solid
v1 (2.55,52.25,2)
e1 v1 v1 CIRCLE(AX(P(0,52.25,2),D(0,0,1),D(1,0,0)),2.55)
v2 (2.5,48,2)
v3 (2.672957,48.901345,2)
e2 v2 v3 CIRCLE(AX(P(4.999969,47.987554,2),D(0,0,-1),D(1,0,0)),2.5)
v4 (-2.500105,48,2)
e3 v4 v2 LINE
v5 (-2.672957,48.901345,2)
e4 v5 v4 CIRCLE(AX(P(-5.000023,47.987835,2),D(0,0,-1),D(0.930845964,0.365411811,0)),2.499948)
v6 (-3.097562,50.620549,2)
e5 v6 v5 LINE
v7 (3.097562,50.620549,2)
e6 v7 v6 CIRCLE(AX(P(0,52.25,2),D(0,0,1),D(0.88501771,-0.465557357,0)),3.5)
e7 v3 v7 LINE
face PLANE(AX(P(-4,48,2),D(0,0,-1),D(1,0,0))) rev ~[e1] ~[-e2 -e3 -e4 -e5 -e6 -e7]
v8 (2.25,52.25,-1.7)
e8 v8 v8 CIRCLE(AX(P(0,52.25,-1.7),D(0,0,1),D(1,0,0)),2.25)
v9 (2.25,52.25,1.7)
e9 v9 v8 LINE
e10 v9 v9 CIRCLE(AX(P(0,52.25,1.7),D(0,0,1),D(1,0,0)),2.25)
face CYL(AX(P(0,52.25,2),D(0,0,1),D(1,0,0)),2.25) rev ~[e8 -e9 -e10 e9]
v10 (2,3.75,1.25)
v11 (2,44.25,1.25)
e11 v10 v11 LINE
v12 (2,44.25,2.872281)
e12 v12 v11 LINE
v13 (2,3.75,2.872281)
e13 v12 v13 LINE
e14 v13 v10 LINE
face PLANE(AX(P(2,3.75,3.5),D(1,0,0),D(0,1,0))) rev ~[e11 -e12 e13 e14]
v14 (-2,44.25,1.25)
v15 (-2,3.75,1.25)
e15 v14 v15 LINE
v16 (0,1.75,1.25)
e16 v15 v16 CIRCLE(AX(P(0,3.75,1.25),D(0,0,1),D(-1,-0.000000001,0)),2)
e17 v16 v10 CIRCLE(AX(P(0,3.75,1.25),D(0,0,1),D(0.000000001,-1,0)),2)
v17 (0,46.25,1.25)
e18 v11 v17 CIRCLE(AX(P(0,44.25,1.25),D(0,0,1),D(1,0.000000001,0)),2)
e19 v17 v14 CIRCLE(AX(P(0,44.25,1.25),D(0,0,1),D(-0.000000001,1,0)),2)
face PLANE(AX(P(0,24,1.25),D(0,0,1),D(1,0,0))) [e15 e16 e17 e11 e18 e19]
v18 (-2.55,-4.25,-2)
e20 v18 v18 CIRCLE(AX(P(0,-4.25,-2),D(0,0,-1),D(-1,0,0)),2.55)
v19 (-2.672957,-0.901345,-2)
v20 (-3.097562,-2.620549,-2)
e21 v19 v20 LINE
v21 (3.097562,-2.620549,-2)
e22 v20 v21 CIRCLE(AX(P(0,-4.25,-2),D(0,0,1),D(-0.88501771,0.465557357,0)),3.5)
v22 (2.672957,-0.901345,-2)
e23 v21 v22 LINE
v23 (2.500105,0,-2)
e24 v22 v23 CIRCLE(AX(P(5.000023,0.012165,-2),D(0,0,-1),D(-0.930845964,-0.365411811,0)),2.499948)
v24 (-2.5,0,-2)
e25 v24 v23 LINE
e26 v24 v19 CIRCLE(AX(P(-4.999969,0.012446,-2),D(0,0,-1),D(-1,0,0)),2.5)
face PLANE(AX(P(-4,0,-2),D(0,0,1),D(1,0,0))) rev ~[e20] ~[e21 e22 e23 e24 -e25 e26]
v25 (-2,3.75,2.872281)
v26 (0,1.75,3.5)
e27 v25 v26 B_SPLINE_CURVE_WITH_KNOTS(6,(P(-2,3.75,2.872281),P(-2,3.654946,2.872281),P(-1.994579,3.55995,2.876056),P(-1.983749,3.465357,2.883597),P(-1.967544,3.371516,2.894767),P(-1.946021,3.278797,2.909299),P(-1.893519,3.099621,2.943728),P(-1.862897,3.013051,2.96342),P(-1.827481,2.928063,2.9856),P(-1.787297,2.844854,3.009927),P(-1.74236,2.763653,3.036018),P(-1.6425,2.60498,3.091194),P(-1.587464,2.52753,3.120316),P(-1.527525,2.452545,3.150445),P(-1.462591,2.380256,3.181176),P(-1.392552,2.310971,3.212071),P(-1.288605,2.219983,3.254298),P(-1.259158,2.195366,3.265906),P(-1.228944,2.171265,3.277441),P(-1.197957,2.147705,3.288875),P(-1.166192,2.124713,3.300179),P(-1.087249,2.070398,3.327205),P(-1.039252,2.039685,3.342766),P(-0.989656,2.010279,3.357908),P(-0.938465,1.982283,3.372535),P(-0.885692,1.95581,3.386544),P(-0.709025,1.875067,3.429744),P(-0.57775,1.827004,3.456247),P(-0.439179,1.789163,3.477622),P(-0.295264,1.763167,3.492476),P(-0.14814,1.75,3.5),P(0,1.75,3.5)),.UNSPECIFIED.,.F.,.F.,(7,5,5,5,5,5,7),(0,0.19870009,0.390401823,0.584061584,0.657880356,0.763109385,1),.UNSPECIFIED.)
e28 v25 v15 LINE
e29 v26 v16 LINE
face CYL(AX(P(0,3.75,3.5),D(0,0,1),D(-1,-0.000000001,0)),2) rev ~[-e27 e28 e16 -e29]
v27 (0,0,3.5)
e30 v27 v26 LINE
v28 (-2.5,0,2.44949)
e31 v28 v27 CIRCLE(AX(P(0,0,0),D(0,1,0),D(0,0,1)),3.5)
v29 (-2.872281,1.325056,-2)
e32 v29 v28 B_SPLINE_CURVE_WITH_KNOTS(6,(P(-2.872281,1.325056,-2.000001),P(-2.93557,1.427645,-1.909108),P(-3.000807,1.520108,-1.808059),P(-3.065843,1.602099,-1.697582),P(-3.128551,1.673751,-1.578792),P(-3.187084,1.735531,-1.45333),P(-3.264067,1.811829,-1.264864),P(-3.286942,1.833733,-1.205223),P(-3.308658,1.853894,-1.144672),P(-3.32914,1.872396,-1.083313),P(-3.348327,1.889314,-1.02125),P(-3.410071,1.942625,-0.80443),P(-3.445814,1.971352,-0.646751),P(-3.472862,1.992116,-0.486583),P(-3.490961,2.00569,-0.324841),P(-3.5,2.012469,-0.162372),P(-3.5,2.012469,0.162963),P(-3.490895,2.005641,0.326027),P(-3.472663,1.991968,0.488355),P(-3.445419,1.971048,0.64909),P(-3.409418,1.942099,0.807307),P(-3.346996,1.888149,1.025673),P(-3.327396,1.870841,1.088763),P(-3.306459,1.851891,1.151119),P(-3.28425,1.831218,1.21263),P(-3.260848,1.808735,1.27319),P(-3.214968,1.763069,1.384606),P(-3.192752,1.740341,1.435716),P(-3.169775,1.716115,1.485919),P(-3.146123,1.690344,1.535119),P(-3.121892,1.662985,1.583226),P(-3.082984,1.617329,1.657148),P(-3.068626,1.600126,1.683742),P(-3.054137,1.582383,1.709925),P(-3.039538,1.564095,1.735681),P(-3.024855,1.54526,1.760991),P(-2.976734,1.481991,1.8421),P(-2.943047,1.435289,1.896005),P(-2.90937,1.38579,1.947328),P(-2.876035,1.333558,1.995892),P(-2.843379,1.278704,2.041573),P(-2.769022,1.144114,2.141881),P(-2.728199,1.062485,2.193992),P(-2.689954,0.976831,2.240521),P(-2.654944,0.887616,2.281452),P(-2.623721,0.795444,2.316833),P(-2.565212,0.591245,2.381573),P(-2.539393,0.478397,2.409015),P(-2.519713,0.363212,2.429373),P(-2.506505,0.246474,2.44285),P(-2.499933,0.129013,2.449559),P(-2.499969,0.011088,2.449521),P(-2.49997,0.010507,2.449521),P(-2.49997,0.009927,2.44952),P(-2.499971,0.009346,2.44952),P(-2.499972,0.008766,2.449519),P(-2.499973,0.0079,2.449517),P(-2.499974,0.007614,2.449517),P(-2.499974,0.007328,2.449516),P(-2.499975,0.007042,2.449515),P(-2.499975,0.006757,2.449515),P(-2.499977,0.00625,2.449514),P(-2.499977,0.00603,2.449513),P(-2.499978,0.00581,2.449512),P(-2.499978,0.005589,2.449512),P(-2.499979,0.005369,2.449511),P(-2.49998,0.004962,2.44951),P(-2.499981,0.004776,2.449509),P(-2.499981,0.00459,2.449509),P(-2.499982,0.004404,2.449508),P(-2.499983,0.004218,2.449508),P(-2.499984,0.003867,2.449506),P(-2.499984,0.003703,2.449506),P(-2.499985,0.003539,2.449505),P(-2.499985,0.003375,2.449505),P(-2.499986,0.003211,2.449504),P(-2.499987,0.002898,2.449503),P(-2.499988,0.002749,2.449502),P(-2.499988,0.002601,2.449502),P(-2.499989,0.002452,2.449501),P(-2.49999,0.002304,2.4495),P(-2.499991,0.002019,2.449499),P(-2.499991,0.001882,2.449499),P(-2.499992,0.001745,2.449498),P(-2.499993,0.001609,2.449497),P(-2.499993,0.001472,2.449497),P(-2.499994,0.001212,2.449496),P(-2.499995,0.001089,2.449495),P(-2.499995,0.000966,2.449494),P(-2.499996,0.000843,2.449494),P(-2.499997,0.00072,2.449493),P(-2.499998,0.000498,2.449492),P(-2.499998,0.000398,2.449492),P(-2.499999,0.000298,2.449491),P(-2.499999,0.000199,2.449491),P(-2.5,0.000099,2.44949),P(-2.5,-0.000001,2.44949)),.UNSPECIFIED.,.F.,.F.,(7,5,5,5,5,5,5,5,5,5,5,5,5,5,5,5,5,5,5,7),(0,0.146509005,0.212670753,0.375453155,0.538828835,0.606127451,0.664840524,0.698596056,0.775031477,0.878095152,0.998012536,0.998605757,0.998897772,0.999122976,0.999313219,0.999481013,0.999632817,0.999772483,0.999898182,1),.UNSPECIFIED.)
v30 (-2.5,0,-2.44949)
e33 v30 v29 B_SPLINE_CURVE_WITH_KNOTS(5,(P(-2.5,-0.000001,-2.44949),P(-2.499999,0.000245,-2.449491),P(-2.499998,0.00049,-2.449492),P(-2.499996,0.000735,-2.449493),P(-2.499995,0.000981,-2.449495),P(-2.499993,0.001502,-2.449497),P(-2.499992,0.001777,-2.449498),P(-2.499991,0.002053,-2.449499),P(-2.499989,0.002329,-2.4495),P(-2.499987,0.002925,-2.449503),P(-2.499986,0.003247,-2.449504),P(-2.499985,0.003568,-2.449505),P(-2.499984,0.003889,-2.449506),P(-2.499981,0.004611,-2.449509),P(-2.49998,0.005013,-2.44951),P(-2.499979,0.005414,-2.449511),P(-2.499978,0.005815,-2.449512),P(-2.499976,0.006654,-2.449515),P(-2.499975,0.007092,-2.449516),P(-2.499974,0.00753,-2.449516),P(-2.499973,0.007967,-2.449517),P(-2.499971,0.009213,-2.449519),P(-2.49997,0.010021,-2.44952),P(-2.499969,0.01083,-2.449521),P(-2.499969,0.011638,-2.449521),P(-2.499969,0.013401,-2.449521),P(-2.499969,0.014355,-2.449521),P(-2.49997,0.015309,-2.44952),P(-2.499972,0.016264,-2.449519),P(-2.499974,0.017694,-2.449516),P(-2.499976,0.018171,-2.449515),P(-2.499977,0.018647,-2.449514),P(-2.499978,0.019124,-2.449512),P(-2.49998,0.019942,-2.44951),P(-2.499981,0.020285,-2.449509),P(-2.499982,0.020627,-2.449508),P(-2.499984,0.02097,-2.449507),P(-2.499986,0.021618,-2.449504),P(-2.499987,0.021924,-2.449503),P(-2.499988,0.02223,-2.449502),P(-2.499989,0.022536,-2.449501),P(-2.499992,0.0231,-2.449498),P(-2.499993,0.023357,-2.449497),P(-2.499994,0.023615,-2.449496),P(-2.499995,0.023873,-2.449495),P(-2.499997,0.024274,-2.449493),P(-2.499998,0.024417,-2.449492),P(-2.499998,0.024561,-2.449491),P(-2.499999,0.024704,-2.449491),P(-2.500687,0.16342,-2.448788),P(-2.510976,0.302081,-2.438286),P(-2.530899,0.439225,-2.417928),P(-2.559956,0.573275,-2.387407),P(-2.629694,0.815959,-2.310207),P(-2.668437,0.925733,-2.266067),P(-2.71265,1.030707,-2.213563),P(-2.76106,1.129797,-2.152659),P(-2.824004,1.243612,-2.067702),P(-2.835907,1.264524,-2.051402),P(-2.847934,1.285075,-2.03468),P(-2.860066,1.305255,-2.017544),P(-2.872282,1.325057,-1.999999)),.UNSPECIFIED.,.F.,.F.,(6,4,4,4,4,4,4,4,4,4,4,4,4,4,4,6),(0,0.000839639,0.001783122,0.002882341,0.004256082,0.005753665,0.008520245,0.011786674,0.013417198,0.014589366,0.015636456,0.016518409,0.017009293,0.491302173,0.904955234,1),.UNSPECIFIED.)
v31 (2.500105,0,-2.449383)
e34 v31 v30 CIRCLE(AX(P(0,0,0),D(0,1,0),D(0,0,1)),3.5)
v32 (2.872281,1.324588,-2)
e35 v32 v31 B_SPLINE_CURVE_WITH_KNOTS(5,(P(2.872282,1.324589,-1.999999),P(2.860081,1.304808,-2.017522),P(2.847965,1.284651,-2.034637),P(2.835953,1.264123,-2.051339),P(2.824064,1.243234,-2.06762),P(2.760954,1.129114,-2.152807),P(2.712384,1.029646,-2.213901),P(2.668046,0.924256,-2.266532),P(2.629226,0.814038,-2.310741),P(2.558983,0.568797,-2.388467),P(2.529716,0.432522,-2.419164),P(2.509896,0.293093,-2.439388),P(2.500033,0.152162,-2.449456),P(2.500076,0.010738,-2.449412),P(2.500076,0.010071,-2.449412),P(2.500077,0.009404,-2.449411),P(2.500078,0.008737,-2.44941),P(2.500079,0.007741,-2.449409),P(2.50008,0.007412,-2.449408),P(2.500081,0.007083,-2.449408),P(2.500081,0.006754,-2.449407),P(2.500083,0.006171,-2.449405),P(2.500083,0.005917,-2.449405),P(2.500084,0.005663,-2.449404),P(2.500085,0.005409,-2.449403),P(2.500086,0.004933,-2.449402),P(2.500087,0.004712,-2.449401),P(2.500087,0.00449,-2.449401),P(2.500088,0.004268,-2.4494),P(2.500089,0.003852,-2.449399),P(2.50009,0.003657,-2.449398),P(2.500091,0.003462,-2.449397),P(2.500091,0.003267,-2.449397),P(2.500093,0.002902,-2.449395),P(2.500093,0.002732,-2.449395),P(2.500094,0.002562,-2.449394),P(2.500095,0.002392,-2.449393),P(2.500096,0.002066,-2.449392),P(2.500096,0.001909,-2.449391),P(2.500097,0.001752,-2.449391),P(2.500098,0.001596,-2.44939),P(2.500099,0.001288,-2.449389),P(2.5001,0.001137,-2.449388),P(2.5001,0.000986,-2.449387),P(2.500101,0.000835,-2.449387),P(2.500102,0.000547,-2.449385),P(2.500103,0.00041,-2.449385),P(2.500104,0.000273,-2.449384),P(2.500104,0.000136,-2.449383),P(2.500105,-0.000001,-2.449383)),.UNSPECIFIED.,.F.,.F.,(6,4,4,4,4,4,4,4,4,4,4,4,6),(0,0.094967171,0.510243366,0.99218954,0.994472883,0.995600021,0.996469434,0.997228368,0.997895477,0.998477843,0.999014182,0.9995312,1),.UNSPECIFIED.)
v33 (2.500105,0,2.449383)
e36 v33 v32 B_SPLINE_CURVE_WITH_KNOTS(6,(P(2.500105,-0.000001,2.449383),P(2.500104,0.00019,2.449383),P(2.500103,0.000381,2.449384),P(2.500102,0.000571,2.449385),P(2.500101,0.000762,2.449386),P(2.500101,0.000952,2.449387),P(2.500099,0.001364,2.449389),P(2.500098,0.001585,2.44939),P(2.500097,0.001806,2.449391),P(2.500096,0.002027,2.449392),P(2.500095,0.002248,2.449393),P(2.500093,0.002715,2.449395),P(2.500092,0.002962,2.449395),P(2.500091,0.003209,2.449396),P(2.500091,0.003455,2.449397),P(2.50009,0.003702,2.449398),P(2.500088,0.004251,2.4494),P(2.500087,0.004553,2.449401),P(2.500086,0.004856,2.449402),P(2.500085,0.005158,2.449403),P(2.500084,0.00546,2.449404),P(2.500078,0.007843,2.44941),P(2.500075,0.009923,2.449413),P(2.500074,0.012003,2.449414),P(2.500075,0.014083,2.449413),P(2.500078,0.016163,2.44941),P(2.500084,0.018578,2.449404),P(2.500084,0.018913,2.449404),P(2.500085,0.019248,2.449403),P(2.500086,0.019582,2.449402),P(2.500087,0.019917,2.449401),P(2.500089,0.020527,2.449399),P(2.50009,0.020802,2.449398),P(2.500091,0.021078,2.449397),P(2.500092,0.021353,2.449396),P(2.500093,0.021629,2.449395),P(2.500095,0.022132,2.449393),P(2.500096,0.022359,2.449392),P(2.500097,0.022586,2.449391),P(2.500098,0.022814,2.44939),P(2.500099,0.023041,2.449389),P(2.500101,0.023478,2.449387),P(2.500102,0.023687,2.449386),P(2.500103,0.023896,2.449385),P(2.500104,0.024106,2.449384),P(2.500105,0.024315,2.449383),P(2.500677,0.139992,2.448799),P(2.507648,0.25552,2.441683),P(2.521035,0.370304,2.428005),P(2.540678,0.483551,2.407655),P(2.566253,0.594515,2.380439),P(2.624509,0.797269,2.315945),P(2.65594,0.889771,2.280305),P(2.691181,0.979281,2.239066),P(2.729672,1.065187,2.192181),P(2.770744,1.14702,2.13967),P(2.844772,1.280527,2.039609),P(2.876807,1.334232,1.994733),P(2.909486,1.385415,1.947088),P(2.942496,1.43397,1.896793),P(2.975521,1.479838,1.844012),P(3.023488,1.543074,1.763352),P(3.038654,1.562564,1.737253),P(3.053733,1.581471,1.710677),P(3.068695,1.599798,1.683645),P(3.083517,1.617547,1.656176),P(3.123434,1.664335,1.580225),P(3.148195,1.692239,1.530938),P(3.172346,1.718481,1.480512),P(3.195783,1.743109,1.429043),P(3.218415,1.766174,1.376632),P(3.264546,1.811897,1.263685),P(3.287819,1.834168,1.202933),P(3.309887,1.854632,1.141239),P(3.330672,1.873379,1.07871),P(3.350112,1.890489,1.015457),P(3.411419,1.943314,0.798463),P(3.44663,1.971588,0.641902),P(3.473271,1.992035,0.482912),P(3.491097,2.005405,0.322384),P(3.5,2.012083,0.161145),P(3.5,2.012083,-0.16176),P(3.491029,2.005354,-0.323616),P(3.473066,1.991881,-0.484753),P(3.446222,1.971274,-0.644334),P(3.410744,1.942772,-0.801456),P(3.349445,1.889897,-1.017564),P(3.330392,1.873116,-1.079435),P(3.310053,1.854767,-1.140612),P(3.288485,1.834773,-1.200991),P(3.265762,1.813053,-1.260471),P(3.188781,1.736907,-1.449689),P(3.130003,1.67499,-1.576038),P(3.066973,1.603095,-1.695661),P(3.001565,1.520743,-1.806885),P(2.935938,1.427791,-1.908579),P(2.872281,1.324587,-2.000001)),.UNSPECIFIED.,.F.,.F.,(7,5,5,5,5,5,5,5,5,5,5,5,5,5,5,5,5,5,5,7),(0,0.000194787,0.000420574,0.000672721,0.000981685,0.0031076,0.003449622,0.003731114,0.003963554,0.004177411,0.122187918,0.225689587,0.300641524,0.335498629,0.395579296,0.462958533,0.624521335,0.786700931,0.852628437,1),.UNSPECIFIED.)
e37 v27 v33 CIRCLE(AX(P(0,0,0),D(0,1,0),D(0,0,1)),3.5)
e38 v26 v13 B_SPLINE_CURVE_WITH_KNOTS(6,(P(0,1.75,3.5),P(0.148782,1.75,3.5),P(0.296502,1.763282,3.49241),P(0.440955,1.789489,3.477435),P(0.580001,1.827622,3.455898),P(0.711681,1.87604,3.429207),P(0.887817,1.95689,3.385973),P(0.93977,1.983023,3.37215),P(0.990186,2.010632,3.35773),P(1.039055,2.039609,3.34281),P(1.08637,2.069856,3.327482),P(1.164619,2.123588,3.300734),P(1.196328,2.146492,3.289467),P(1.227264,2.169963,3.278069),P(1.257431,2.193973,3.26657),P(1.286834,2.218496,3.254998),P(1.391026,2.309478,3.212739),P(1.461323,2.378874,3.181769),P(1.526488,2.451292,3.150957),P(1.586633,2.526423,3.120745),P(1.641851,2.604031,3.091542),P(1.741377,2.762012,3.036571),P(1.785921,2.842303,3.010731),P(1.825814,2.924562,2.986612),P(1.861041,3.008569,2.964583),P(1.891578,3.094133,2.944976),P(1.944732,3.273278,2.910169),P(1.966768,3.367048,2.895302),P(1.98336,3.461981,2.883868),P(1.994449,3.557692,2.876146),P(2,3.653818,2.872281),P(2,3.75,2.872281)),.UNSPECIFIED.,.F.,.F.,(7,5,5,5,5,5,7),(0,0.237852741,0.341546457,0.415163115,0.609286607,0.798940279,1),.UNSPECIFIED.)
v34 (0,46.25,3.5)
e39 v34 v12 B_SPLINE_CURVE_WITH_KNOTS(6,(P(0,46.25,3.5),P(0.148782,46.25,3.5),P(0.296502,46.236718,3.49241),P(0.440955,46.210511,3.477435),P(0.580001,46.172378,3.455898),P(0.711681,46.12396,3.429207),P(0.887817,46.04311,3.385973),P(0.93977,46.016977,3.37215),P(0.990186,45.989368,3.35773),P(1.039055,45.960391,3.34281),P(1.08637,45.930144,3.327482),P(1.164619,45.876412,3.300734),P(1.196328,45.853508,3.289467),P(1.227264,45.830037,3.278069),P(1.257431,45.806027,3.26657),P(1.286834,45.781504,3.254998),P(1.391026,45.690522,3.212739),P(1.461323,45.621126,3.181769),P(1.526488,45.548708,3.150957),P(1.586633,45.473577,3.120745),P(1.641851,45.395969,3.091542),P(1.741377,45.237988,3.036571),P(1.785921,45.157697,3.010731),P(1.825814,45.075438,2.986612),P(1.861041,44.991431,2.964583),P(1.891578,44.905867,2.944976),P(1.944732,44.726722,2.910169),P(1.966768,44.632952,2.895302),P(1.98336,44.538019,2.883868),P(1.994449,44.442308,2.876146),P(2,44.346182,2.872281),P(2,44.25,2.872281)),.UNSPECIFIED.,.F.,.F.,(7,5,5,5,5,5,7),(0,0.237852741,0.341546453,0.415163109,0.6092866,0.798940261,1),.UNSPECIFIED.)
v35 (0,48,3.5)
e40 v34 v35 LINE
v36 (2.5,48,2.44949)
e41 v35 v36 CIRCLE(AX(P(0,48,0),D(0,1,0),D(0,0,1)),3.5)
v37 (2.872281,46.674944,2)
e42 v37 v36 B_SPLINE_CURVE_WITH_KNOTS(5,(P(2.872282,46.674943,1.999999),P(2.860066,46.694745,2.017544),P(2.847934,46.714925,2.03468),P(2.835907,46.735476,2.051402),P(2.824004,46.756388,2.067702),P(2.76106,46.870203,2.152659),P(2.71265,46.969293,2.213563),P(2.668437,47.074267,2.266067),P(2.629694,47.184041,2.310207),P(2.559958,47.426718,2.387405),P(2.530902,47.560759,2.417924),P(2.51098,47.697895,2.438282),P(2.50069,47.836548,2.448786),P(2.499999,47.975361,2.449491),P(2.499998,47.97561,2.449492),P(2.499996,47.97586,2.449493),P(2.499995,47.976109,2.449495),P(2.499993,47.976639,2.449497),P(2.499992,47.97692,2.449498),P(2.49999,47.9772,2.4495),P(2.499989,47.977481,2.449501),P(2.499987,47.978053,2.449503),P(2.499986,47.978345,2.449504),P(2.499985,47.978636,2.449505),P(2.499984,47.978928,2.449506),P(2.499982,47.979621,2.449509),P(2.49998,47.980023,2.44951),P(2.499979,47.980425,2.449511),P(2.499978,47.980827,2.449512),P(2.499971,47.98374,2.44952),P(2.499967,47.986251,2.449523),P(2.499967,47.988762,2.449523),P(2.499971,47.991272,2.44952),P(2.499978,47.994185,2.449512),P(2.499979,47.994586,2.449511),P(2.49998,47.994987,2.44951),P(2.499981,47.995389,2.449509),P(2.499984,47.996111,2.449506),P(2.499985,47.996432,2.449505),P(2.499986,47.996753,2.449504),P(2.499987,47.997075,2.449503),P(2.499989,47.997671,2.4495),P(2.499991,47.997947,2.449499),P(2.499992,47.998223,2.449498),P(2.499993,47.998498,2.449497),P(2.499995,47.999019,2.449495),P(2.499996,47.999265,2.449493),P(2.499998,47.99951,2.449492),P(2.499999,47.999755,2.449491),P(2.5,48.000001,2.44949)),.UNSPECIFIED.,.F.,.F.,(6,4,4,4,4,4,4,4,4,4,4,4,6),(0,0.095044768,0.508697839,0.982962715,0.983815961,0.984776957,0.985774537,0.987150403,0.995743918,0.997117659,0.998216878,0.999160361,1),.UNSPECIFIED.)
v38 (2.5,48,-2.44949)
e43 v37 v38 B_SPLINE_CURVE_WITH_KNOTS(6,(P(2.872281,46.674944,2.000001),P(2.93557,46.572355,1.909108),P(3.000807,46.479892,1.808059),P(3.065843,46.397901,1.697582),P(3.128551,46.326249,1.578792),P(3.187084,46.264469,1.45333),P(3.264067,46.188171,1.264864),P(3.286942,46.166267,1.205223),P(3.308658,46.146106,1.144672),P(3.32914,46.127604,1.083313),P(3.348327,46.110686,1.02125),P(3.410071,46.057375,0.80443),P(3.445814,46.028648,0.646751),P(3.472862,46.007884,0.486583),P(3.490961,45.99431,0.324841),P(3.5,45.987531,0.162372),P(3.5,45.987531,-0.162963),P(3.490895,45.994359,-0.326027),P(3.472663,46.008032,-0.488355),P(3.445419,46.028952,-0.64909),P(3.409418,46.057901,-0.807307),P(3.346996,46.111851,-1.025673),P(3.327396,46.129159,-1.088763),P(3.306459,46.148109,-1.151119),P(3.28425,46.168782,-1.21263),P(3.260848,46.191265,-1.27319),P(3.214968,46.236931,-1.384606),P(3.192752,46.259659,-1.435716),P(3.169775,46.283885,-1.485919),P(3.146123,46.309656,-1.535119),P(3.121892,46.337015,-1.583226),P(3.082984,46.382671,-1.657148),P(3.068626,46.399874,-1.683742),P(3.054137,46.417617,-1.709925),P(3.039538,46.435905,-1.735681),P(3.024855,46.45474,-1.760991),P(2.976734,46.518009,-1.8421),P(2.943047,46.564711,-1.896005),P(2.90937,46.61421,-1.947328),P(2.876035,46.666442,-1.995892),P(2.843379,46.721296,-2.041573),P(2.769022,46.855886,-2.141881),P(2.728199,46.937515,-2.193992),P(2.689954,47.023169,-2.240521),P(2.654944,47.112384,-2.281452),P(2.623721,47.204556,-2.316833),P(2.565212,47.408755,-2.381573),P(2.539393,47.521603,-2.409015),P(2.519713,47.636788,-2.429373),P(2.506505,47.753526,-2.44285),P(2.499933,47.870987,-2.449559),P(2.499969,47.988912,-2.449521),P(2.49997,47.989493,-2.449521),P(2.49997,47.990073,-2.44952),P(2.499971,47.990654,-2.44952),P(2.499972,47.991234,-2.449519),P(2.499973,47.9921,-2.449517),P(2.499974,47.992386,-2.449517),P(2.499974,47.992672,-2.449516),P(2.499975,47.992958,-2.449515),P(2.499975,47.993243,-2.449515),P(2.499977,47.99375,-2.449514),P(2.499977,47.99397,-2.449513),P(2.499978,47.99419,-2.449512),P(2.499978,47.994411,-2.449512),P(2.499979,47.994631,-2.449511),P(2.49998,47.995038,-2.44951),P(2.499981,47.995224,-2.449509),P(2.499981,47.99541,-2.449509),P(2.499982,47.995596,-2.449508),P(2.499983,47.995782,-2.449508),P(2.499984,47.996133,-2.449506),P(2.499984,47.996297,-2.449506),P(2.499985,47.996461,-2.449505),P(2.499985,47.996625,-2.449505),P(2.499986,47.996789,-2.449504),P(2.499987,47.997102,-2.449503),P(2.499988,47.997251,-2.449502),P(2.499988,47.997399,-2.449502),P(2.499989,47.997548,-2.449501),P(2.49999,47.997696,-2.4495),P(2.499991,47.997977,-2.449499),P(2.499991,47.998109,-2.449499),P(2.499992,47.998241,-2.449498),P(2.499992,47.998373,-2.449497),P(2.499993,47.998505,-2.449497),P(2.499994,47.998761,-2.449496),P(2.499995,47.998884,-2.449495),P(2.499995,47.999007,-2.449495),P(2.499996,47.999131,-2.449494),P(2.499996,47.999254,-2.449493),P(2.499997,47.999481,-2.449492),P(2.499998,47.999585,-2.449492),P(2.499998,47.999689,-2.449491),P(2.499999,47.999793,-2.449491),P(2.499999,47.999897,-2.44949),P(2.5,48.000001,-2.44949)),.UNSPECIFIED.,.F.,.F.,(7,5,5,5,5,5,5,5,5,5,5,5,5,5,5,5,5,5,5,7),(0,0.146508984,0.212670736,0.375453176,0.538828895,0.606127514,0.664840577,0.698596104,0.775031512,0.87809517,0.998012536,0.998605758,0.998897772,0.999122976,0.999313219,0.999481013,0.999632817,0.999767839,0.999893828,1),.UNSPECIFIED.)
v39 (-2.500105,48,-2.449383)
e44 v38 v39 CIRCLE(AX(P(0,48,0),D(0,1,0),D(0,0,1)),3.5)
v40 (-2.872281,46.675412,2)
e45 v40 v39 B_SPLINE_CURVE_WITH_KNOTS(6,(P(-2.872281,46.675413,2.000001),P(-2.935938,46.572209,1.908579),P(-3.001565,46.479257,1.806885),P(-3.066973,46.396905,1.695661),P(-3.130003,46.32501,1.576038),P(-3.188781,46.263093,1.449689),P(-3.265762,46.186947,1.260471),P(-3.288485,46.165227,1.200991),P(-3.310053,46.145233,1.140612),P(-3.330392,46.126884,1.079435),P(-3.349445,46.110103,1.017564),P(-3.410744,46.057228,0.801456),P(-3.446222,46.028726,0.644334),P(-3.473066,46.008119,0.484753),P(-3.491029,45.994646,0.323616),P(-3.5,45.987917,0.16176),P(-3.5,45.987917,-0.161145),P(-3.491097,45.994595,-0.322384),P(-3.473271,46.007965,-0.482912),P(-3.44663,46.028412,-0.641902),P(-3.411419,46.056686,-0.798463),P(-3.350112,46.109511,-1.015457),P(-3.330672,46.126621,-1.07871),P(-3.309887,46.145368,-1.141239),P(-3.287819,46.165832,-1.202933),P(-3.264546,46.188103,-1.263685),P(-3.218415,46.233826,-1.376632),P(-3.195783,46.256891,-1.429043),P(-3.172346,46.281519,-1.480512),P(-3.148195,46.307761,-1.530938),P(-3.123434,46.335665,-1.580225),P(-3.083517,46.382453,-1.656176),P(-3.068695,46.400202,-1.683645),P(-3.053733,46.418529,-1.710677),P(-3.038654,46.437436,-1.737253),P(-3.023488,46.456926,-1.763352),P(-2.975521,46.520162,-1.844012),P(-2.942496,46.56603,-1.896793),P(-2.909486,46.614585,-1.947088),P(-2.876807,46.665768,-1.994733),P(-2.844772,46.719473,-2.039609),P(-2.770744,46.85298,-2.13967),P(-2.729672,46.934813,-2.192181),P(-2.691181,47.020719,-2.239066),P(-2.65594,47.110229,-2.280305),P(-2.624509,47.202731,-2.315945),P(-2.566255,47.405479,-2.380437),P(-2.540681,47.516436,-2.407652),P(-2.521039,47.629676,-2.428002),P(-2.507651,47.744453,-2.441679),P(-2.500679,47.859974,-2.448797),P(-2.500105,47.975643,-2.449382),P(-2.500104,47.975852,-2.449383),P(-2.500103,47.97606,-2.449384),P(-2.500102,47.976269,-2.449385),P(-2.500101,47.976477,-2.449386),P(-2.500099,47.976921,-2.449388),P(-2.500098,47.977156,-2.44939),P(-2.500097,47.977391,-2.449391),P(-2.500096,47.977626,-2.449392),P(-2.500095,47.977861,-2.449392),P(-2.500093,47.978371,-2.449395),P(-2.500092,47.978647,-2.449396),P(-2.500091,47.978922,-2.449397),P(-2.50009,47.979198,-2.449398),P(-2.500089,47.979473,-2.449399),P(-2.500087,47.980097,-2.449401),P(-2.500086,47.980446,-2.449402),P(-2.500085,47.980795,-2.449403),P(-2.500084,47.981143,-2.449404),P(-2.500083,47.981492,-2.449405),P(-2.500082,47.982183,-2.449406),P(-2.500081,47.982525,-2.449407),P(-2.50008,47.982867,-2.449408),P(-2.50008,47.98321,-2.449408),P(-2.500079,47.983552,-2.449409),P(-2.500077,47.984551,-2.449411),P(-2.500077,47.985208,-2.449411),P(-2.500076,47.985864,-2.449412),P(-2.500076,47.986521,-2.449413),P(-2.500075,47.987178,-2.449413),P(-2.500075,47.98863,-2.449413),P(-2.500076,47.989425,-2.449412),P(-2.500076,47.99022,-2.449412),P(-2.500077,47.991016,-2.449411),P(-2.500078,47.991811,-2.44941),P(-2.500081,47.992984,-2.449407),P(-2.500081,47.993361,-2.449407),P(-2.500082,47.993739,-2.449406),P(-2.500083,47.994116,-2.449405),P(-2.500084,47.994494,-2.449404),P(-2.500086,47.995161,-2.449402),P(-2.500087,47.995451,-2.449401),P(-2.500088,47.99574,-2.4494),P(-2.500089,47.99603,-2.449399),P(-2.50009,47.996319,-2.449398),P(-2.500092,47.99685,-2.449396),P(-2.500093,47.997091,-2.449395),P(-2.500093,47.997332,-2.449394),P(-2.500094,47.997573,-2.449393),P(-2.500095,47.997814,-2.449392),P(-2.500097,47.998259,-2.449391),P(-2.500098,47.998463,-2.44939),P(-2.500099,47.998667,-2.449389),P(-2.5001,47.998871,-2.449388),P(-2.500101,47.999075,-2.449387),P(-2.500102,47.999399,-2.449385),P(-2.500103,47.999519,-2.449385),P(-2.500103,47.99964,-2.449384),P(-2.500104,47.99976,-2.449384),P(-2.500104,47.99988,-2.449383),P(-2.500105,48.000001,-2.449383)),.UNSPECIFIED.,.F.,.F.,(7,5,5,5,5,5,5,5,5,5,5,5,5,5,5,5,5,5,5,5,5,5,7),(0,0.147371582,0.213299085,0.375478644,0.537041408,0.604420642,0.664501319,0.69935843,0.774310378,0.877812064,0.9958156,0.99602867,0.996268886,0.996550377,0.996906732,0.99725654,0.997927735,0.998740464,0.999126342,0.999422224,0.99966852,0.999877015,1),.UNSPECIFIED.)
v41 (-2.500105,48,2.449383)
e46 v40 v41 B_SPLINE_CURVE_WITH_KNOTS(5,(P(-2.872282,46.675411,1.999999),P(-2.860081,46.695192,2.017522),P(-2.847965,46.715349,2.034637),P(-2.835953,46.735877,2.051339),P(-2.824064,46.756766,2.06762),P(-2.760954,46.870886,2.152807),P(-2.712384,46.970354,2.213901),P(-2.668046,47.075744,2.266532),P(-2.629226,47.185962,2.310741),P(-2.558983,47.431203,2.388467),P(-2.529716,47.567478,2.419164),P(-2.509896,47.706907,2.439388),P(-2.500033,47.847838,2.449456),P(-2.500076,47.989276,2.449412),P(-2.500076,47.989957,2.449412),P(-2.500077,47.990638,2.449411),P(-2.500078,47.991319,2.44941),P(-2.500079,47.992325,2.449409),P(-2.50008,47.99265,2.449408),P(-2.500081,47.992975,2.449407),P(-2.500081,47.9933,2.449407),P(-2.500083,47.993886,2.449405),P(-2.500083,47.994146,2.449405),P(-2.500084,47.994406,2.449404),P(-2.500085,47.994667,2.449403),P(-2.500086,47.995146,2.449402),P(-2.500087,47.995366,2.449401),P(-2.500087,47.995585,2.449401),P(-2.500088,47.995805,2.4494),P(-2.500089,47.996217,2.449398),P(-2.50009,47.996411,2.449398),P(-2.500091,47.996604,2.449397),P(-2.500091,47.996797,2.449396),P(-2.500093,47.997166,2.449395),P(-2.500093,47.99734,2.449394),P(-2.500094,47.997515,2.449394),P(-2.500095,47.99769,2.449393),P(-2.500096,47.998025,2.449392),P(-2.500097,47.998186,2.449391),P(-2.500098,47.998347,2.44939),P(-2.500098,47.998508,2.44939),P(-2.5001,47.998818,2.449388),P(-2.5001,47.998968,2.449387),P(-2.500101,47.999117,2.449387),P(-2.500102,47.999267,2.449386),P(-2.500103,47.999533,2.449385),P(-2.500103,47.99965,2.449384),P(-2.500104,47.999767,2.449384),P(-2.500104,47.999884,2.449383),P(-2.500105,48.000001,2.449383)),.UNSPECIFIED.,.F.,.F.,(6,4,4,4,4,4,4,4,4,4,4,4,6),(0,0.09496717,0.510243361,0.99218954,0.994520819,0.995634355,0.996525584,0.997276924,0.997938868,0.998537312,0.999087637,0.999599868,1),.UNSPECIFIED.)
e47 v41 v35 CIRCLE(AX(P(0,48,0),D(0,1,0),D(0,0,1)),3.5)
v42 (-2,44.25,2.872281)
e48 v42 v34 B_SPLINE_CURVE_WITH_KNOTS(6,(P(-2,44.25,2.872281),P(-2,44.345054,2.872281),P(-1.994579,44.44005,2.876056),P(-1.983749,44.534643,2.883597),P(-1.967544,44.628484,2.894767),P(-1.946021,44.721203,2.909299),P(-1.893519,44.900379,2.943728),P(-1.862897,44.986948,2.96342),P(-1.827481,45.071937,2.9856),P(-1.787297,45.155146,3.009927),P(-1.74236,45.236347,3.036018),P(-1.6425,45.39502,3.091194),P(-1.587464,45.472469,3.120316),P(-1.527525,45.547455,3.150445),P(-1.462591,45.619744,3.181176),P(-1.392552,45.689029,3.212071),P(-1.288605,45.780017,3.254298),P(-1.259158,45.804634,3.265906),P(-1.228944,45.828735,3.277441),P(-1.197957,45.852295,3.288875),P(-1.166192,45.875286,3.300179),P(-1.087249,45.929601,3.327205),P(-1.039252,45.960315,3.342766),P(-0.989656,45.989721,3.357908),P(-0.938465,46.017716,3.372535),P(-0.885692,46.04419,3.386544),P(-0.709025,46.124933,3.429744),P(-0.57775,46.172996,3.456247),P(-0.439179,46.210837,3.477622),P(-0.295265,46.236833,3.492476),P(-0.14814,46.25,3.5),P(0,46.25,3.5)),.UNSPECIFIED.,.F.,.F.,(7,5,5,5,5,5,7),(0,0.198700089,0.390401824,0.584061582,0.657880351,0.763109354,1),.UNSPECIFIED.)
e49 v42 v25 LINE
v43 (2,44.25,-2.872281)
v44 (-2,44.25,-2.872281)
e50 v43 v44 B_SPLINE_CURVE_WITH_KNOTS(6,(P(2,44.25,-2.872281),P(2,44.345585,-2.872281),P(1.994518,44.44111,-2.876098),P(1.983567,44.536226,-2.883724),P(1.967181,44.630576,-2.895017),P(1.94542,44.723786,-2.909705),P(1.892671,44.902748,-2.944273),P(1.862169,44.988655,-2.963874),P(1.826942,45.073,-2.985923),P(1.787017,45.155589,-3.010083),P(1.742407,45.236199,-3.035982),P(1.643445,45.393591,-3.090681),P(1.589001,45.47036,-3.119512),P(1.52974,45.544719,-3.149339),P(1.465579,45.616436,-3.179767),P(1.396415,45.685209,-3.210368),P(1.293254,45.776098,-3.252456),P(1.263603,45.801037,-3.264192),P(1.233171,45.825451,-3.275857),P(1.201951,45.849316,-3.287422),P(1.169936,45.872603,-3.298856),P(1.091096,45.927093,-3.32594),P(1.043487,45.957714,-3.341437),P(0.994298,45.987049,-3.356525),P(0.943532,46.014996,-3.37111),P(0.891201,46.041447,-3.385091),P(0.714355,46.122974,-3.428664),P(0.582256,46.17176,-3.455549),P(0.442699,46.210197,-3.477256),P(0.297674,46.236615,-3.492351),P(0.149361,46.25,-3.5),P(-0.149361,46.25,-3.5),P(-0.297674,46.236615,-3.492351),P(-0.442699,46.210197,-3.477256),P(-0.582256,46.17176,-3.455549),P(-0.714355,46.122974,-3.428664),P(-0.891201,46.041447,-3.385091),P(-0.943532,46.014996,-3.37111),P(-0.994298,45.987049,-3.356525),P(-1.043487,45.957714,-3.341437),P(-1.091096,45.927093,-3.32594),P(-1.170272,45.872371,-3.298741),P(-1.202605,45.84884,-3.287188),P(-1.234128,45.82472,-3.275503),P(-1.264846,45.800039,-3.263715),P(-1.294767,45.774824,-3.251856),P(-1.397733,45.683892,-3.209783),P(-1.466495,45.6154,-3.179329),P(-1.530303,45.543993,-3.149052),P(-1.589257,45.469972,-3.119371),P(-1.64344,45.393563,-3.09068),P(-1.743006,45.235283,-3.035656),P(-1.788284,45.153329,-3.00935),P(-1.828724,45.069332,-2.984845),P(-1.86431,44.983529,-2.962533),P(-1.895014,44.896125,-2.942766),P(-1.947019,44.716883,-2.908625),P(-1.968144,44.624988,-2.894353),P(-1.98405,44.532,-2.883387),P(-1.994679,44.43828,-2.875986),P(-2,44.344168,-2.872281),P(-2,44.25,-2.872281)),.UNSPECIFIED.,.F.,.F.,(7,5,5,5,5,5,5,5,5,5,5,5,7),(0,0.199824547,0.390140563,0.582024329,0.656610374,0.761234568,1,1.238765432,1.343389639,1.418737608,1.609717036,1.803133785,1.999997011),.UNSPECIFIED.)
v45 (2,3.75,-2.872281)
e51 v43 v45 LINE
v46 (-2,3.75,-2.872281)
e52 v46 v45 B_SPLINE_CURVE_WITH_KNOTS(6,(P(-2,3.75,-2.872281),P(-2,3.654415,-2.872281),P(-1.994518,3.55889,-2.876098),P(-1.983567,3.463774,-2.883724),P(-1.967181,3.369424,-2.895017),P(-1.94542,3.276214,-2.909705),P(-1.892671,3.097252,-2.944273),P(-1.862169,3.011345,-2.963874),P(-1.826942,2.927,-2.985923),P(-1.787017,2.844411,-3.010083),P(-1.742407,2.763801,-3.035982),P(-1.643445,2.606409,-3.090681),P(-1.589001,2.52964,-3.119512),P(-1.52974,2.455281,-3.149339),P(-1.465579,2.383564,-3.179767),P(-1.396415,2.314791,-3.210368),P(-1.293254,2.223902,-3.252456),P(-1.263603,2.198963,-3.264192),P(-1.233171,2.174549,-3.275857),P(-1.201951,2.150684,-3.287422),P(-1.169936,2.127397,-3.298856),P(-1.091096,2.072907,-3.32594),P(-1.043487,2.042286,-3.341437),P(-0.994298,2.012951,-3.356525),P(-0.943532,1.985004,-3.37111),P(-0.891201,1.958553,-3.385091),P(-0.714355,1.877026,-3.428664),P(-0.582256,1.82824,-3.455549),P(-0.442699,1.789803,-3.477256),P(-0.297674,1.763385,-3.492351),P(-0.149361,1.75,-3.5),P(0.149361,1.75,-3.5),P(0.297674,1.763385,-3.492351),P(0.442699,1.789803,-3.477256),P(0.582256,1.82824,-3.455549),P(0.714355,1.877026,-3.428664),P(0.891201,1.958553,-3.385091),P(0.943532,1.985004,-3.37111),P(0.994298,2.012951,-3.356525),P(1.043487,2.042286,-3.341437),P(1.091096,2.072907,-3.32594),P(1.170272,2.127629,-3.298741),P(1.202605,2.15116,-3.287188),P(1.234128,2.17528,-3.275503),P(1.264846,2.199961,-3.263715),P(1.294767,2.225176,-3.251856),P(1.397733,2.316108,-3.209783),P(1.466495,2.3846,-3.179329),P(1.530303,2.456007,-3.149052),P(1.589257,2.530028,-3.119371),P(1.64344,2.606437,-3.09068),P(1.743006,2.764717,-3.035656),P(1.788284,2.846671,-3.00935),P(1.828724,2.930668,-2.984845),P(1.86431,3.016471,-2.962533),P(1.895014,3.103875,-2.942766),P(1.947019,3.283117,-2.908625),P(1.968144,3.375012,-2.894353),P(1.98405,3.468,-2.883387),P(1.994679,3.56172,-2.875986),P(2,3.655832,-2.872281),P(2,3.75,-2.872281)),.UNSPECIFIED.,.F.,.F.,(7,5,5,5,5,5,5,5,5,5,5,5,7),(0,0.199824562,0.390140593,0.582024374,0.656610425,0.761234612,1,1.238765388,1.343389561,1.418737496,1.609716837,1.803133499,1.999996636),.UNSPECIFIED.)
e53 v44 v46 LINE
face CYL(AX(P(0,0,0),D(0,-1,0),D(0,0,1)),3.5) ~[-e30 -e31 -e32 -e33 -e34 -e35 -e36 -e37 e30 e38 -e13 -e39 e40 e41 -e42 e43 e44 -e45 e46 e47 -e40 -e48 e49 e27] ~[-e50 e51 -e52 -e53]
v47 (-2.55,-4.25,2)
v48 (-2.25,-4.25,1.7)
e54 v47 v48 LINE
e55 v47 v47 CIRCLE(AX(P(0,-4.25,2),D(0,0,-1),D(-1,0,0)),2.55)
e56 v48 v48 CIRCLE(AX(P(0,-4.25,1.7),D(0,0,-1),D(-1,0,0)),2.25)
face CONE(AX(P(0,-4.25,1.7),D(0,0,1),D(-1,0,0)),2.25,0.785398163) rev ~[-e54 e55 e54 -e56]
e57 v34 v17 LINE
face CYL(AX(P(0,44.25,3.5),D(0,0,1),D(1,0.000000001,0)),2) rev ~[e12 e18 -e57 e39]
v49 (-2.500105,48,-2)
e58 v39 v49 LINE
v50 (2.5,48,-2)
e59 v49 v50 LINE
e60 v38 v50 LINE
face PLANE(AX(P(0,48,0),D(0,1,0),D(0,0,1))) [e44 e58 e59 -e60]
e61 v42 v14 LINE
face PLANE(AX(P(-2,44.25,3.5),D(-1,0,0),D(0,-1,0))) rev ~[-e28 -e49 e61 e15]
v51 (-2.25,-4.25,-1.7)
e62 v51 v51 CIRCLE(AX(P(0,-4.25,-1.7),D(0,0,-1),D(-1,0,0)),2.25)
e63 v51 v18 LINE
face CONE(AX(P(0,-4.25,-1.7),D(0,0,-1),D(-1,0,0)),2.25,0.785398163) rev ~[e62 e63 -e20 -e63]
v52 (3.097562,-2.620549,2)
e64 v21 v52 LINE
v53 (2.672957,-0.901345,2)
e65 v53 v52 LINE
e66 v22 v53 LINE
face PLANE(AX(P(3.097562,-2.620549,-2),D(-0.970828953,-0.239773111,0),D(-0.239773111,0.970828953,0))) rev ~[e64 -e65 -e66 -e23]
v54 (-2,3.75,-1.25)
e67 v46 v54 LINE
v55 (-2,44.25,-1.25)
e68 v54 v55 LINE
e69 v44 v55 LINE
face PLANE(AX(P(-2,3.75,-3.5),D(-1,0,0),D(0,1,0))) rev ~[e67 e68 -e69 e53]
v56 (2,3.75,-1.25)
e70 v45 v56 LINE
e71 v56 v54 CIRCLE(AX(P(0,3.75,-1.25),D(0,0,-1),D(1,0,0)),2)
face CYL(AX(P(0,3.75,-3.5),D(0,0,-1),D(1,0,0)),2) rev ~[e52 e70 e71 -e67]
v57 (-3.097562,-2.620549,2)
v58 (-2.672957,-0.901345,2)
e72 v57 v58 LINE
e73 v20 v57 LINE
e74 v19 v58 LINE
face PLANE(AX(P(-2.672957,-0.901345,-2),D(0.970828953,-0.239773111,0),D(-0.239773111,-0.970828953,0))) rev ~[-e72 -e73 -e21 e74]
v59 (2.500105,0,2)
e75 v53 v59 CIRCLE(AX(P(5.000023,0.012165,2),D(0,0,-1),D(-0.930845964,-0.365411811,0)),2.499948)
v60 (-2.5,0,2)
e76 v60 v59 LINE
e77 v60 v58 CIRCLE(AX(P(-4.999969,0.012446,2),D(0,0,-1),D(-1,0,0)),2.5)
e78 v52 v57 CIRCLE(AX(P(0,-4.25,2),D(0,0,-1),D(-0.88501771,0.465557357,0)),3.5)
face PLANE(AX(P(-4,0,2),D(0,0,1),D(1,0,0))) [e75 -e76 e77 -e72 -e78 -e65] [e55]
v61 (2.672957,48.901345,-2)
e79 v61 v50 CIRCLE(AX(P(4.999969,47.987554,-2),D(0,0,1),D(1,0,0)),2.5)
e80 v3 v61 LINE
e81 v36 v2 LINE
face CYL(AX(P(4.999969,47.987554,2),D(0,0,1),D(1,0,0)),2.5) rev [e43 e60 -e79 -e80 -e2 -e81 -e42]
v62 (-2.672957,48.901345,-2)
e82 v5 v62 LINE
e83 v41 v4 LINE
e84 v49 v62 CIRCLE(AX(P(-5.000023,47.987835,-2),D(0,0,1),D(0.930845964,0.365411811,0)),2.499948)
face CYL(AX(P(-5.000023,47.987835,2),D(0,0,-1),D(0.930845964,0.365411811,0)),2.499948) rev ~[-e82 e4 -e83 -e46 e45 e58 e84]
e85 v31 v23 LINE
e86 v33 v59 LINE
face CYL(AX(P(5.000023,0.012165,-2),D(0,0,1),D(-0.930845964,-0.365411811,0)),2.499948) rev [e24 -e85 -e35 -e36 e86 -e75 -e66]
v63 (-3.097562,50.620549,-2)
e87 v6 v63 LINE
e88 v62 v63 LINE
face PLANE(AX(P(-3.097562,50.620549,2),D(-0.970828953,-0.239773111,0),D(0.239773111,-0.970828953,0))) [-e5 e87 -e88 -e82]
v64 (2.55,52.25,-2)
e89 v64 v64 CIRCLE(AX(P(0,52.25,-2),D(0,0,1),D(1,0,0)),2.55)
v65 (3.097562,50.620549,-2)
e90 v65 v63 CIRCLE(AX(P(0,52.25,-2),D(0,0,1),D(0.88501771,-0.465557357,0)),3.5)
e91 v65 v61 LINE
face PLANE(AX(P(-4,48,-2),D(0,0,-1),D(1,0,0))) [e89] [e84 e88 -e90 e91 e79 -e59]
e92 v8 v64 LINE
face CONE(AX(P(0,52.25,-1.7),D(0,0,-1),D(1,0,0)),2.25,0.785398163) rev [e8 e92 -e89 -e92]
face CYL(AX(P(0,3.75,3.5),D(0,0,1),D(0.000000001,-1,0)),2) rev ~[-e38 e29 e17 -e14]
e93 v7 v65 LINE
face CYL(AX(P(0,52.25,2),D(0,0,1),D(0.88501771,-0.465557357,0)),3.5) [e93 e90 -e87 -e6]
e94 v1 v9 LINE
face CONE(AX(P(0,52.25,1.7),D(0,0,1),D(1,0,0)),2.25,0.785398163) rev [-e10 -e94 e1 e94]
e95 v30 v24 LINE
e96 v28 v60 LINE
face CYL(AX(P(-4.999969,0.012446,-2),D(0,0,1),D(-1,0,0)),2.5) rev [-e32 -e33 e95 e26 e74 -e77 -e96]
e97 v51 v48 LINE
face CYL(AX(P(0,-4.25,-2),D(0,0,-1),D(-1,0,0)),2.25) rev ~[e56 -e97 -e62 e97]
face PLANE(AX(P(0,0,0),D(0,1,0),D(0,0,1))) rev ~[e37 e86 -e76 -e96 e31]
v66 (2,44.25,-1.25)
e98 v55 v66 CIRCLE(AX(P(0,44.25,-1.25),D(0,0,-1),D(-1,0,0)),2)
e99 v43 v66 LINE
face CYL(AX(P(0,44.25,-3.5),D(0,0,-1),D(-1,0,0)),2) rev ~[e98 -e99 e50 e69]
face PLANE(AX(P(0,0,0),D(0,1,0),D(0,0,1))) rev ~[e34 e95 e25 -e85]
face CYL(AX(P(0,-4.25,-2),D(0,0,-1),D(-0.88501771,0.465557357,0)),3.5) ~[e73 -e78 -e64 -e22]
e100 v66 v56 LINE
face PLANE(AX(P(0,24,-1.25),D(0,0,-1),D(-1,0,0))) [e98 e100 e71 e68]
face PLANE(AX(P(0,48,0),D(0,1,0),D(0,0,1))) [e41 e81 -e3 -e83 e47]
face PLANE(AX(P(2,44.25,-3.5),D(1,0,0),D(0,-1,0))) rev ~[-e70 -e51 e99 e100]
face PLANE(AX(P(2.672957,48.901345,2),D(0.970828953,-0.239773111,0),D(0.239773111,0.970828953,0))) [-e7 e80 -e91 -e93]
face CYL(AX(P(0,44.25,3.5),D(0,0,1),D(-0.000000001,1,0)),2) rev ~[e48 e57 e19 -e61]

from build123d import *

# Parameters (mm, degrees)
SKETCH1_R           = 3.5
EXTRUDE1_DEPTH      = 48
SKETCH3_W           = 8
SKETCH3_H           = 4
EXTRUDE2_DEPTH      = 9
SKETCH4_R           = 2.25
EXTRUDE3_DEPTH      = 2.5
EXTRUDE3_DEPTH_BACK = 6.5
SKETCH5_W           = 8
SKETCH5_H           = 4
EXTRUDE4_DEPTH      = 10
SKETCH6_R           = 2.25
EXTRUDE9_DEPTH      = 2.5000001
EXTRUDE9_DEPTH_BACK = 6.5000001
EXTRUDE10_DEPTH     = 2.25
EXTRUDE11_DEPTH     = 2.25
CHAMFER1_SIZE       = 0.3


with BuildPart() as part:
    # Sketch1 → Extrude1 (new body)
    with BuildSketch(Plane(origin=(0, 0, 0), x_dir=(1, 0, 0), z_dir=(0, 1, 0))):
        with Locations(Location((0, 0, 0), (0, 0, 270))):  # turned: the seam where the file's is
            Circle(SKETCH1_R)
    extrude(amount=EXTRUDE1_DEPTH)

    # Sketch3 → Extrude2 (add)
    with BuildSketch(Plane(origin=(0, 48, 0), x_dir=(1, 0, 0), z_dir=(0, 1, 0))):
        Rectangle(SKETCH3_W, SKETCH3_H)
    extrude(amount=EXTRUDE2_DEPTH)

    # Sketch4 → Extrude3 (cut, two sides)
    with BuildSketch(Plane.XY.offset(2)) as extrude3_sk:
        with Locations((0, 52.25)):
            Circle(SKETCH4_R)
        with BuildLine():
            Line((-7.499970708, 47.987897931), (-8.595568017, 58.173135503))
            Line((-8.595568017, 58.173135503), (8.858273183, 57.495072607))
            Line((8.858273183, 57.495072607), (7.499969018, 47.987553821))
            ThreePointArc((7.499969018, 47.987553821), (4.534958441, 45.531181463), (2.672956888, 48.901345124))
            Line((2.672956888, 48.901345124), (3.097561986, 50.620549251))
            ThreePointArc((3.097561986, 50.620549251), (0, 55.75), (-3.097561986, 50.620549251))
            Line((-3.097561986, 50.620549251), (-2.672956888, 48.901345124))
            ThreePointArc((-2.672956888, 48.901345124), (-4.53465869, 45.531582657), (-7.499970708, 47.987897931))
        make_face()
    extrude(amount=EXTRUDE3_DEPTH, mode=Mode.SUBTRACT)
    extrude(extrude3_sk.sketch, amount=-EXTRUDE3_DEPTH_BACK, mode=Mode.SUBTRACT)

    # Sketch5 → Extrude4 (add)
    with BuildSketch(Plane.XZ):
        Rectangle(SKETCH5_W, SKETCH5_H)
    extrude(amount=EXTRUDE4_DEPTH)

    # Sketch6 → Extrude9 (cut, two sides)
    with BuildSketch(Plane(origin=(0, 0, -2), x_dir=(-1, 0, 0), z_dir=(0, 0, -1))) as extrude9_sk:
        with Locations((0, -4.25)):
            Circle(SKETCH6_R)
        with BuildLine():
            Line((-3.097561986, -2.620549251), (-2.672956888, -0.901345124))
            ThreePointArc((-2.672956888, -0.901345124), (-4.53465869, 2.468417343), (-7.499970708, 0.012102069))
            Line((-7.499970708, 0.012102069), (-8.700661362, -11.644211871))
            Line((-8.700661362, -11.644211871), (9.512578745, -12.130566681))
            Line((9.512578745, -12.130566681), (7.499969018, 0.012446179))
            ThreePointArc((7.499969018, 0.012446179), (4.534958441, 2.468818537), (2.672956888, -0.901345124))
            Line((2.672956888, -0.901345124), (3.097561986, -2.620549251))
            ThreePointArc((3.097561986, -2.620549251), (0, -7.75), (-3.097561986, -2.620549251))
        make_face()
    extrude(amount=EXTRUDE9_DEPTH, mode=Mode.SUBTRACT)
    extrude(extrude9_sk.sketch, amount=-EXTRUDE9_DEPTH_BACK, mode=Mode.SUBTRACT)

    # Sketch7 → Extrude10 (cut)
    with BuildSketch(Plane.XY.offset(3.5)):
        with BuildLine():
            ThreePointArc((0, 46.25), (-1.414213562, 45.664213562), (-2, 44.25))
            Line((-2, 44.25), (-2, 3.75))
            ThreePointArc((-2, 3.75), (-1.414213562, 2.335786438), (0, 1.75))
            ThreePointArc((0, 1.75), (1.414213562, 2.335786438), (2, 3.75))
            Line((2, 3.75), (2, 44.25))
            ThreePointArc((2, 44.25), (1.414213562, 45.664213562), (0, 46.25))
        make_face()
    extrude(amount=-EXTRUDE10_DEPTH, mode=Mode.SUBTRACT)

    # Sketch8 → Extrude11 (cut)
    with BuildSketch(Plane(origin=(0, 0, -3.5), x_dir=(-1, 0, 0), z_dir=(0, 0, -1))):
        with BuildLine():
            Line((-2, 44.25), (-2, 3.75))
            ThreePointArc((-2, 3.75), (0, 1.75), (2, 3.75))
            Line((2, 3.75), (2, 44.25))
            ThreePointArc((2, 44.25), (0, 46.25), (-2, 44.25))
        make_face()
    extrude(amount=-EXTRUDE11_DEPTH, mode=Mode.SUBTRACT)

    # Chamfer1
    chamfer1_edges = [part.edges().sort_by_distance(p)[0] for p in [
        (-2.25, 52.25, -2),
        (-2.25, 52.25, 2),
        (2.25, -4.25, -2),
        (2.25, -4.25, 2),
    ]]
    chamfer(chamfer1_edges, length=CHAMFER1_SIZE)


solid = part.part
